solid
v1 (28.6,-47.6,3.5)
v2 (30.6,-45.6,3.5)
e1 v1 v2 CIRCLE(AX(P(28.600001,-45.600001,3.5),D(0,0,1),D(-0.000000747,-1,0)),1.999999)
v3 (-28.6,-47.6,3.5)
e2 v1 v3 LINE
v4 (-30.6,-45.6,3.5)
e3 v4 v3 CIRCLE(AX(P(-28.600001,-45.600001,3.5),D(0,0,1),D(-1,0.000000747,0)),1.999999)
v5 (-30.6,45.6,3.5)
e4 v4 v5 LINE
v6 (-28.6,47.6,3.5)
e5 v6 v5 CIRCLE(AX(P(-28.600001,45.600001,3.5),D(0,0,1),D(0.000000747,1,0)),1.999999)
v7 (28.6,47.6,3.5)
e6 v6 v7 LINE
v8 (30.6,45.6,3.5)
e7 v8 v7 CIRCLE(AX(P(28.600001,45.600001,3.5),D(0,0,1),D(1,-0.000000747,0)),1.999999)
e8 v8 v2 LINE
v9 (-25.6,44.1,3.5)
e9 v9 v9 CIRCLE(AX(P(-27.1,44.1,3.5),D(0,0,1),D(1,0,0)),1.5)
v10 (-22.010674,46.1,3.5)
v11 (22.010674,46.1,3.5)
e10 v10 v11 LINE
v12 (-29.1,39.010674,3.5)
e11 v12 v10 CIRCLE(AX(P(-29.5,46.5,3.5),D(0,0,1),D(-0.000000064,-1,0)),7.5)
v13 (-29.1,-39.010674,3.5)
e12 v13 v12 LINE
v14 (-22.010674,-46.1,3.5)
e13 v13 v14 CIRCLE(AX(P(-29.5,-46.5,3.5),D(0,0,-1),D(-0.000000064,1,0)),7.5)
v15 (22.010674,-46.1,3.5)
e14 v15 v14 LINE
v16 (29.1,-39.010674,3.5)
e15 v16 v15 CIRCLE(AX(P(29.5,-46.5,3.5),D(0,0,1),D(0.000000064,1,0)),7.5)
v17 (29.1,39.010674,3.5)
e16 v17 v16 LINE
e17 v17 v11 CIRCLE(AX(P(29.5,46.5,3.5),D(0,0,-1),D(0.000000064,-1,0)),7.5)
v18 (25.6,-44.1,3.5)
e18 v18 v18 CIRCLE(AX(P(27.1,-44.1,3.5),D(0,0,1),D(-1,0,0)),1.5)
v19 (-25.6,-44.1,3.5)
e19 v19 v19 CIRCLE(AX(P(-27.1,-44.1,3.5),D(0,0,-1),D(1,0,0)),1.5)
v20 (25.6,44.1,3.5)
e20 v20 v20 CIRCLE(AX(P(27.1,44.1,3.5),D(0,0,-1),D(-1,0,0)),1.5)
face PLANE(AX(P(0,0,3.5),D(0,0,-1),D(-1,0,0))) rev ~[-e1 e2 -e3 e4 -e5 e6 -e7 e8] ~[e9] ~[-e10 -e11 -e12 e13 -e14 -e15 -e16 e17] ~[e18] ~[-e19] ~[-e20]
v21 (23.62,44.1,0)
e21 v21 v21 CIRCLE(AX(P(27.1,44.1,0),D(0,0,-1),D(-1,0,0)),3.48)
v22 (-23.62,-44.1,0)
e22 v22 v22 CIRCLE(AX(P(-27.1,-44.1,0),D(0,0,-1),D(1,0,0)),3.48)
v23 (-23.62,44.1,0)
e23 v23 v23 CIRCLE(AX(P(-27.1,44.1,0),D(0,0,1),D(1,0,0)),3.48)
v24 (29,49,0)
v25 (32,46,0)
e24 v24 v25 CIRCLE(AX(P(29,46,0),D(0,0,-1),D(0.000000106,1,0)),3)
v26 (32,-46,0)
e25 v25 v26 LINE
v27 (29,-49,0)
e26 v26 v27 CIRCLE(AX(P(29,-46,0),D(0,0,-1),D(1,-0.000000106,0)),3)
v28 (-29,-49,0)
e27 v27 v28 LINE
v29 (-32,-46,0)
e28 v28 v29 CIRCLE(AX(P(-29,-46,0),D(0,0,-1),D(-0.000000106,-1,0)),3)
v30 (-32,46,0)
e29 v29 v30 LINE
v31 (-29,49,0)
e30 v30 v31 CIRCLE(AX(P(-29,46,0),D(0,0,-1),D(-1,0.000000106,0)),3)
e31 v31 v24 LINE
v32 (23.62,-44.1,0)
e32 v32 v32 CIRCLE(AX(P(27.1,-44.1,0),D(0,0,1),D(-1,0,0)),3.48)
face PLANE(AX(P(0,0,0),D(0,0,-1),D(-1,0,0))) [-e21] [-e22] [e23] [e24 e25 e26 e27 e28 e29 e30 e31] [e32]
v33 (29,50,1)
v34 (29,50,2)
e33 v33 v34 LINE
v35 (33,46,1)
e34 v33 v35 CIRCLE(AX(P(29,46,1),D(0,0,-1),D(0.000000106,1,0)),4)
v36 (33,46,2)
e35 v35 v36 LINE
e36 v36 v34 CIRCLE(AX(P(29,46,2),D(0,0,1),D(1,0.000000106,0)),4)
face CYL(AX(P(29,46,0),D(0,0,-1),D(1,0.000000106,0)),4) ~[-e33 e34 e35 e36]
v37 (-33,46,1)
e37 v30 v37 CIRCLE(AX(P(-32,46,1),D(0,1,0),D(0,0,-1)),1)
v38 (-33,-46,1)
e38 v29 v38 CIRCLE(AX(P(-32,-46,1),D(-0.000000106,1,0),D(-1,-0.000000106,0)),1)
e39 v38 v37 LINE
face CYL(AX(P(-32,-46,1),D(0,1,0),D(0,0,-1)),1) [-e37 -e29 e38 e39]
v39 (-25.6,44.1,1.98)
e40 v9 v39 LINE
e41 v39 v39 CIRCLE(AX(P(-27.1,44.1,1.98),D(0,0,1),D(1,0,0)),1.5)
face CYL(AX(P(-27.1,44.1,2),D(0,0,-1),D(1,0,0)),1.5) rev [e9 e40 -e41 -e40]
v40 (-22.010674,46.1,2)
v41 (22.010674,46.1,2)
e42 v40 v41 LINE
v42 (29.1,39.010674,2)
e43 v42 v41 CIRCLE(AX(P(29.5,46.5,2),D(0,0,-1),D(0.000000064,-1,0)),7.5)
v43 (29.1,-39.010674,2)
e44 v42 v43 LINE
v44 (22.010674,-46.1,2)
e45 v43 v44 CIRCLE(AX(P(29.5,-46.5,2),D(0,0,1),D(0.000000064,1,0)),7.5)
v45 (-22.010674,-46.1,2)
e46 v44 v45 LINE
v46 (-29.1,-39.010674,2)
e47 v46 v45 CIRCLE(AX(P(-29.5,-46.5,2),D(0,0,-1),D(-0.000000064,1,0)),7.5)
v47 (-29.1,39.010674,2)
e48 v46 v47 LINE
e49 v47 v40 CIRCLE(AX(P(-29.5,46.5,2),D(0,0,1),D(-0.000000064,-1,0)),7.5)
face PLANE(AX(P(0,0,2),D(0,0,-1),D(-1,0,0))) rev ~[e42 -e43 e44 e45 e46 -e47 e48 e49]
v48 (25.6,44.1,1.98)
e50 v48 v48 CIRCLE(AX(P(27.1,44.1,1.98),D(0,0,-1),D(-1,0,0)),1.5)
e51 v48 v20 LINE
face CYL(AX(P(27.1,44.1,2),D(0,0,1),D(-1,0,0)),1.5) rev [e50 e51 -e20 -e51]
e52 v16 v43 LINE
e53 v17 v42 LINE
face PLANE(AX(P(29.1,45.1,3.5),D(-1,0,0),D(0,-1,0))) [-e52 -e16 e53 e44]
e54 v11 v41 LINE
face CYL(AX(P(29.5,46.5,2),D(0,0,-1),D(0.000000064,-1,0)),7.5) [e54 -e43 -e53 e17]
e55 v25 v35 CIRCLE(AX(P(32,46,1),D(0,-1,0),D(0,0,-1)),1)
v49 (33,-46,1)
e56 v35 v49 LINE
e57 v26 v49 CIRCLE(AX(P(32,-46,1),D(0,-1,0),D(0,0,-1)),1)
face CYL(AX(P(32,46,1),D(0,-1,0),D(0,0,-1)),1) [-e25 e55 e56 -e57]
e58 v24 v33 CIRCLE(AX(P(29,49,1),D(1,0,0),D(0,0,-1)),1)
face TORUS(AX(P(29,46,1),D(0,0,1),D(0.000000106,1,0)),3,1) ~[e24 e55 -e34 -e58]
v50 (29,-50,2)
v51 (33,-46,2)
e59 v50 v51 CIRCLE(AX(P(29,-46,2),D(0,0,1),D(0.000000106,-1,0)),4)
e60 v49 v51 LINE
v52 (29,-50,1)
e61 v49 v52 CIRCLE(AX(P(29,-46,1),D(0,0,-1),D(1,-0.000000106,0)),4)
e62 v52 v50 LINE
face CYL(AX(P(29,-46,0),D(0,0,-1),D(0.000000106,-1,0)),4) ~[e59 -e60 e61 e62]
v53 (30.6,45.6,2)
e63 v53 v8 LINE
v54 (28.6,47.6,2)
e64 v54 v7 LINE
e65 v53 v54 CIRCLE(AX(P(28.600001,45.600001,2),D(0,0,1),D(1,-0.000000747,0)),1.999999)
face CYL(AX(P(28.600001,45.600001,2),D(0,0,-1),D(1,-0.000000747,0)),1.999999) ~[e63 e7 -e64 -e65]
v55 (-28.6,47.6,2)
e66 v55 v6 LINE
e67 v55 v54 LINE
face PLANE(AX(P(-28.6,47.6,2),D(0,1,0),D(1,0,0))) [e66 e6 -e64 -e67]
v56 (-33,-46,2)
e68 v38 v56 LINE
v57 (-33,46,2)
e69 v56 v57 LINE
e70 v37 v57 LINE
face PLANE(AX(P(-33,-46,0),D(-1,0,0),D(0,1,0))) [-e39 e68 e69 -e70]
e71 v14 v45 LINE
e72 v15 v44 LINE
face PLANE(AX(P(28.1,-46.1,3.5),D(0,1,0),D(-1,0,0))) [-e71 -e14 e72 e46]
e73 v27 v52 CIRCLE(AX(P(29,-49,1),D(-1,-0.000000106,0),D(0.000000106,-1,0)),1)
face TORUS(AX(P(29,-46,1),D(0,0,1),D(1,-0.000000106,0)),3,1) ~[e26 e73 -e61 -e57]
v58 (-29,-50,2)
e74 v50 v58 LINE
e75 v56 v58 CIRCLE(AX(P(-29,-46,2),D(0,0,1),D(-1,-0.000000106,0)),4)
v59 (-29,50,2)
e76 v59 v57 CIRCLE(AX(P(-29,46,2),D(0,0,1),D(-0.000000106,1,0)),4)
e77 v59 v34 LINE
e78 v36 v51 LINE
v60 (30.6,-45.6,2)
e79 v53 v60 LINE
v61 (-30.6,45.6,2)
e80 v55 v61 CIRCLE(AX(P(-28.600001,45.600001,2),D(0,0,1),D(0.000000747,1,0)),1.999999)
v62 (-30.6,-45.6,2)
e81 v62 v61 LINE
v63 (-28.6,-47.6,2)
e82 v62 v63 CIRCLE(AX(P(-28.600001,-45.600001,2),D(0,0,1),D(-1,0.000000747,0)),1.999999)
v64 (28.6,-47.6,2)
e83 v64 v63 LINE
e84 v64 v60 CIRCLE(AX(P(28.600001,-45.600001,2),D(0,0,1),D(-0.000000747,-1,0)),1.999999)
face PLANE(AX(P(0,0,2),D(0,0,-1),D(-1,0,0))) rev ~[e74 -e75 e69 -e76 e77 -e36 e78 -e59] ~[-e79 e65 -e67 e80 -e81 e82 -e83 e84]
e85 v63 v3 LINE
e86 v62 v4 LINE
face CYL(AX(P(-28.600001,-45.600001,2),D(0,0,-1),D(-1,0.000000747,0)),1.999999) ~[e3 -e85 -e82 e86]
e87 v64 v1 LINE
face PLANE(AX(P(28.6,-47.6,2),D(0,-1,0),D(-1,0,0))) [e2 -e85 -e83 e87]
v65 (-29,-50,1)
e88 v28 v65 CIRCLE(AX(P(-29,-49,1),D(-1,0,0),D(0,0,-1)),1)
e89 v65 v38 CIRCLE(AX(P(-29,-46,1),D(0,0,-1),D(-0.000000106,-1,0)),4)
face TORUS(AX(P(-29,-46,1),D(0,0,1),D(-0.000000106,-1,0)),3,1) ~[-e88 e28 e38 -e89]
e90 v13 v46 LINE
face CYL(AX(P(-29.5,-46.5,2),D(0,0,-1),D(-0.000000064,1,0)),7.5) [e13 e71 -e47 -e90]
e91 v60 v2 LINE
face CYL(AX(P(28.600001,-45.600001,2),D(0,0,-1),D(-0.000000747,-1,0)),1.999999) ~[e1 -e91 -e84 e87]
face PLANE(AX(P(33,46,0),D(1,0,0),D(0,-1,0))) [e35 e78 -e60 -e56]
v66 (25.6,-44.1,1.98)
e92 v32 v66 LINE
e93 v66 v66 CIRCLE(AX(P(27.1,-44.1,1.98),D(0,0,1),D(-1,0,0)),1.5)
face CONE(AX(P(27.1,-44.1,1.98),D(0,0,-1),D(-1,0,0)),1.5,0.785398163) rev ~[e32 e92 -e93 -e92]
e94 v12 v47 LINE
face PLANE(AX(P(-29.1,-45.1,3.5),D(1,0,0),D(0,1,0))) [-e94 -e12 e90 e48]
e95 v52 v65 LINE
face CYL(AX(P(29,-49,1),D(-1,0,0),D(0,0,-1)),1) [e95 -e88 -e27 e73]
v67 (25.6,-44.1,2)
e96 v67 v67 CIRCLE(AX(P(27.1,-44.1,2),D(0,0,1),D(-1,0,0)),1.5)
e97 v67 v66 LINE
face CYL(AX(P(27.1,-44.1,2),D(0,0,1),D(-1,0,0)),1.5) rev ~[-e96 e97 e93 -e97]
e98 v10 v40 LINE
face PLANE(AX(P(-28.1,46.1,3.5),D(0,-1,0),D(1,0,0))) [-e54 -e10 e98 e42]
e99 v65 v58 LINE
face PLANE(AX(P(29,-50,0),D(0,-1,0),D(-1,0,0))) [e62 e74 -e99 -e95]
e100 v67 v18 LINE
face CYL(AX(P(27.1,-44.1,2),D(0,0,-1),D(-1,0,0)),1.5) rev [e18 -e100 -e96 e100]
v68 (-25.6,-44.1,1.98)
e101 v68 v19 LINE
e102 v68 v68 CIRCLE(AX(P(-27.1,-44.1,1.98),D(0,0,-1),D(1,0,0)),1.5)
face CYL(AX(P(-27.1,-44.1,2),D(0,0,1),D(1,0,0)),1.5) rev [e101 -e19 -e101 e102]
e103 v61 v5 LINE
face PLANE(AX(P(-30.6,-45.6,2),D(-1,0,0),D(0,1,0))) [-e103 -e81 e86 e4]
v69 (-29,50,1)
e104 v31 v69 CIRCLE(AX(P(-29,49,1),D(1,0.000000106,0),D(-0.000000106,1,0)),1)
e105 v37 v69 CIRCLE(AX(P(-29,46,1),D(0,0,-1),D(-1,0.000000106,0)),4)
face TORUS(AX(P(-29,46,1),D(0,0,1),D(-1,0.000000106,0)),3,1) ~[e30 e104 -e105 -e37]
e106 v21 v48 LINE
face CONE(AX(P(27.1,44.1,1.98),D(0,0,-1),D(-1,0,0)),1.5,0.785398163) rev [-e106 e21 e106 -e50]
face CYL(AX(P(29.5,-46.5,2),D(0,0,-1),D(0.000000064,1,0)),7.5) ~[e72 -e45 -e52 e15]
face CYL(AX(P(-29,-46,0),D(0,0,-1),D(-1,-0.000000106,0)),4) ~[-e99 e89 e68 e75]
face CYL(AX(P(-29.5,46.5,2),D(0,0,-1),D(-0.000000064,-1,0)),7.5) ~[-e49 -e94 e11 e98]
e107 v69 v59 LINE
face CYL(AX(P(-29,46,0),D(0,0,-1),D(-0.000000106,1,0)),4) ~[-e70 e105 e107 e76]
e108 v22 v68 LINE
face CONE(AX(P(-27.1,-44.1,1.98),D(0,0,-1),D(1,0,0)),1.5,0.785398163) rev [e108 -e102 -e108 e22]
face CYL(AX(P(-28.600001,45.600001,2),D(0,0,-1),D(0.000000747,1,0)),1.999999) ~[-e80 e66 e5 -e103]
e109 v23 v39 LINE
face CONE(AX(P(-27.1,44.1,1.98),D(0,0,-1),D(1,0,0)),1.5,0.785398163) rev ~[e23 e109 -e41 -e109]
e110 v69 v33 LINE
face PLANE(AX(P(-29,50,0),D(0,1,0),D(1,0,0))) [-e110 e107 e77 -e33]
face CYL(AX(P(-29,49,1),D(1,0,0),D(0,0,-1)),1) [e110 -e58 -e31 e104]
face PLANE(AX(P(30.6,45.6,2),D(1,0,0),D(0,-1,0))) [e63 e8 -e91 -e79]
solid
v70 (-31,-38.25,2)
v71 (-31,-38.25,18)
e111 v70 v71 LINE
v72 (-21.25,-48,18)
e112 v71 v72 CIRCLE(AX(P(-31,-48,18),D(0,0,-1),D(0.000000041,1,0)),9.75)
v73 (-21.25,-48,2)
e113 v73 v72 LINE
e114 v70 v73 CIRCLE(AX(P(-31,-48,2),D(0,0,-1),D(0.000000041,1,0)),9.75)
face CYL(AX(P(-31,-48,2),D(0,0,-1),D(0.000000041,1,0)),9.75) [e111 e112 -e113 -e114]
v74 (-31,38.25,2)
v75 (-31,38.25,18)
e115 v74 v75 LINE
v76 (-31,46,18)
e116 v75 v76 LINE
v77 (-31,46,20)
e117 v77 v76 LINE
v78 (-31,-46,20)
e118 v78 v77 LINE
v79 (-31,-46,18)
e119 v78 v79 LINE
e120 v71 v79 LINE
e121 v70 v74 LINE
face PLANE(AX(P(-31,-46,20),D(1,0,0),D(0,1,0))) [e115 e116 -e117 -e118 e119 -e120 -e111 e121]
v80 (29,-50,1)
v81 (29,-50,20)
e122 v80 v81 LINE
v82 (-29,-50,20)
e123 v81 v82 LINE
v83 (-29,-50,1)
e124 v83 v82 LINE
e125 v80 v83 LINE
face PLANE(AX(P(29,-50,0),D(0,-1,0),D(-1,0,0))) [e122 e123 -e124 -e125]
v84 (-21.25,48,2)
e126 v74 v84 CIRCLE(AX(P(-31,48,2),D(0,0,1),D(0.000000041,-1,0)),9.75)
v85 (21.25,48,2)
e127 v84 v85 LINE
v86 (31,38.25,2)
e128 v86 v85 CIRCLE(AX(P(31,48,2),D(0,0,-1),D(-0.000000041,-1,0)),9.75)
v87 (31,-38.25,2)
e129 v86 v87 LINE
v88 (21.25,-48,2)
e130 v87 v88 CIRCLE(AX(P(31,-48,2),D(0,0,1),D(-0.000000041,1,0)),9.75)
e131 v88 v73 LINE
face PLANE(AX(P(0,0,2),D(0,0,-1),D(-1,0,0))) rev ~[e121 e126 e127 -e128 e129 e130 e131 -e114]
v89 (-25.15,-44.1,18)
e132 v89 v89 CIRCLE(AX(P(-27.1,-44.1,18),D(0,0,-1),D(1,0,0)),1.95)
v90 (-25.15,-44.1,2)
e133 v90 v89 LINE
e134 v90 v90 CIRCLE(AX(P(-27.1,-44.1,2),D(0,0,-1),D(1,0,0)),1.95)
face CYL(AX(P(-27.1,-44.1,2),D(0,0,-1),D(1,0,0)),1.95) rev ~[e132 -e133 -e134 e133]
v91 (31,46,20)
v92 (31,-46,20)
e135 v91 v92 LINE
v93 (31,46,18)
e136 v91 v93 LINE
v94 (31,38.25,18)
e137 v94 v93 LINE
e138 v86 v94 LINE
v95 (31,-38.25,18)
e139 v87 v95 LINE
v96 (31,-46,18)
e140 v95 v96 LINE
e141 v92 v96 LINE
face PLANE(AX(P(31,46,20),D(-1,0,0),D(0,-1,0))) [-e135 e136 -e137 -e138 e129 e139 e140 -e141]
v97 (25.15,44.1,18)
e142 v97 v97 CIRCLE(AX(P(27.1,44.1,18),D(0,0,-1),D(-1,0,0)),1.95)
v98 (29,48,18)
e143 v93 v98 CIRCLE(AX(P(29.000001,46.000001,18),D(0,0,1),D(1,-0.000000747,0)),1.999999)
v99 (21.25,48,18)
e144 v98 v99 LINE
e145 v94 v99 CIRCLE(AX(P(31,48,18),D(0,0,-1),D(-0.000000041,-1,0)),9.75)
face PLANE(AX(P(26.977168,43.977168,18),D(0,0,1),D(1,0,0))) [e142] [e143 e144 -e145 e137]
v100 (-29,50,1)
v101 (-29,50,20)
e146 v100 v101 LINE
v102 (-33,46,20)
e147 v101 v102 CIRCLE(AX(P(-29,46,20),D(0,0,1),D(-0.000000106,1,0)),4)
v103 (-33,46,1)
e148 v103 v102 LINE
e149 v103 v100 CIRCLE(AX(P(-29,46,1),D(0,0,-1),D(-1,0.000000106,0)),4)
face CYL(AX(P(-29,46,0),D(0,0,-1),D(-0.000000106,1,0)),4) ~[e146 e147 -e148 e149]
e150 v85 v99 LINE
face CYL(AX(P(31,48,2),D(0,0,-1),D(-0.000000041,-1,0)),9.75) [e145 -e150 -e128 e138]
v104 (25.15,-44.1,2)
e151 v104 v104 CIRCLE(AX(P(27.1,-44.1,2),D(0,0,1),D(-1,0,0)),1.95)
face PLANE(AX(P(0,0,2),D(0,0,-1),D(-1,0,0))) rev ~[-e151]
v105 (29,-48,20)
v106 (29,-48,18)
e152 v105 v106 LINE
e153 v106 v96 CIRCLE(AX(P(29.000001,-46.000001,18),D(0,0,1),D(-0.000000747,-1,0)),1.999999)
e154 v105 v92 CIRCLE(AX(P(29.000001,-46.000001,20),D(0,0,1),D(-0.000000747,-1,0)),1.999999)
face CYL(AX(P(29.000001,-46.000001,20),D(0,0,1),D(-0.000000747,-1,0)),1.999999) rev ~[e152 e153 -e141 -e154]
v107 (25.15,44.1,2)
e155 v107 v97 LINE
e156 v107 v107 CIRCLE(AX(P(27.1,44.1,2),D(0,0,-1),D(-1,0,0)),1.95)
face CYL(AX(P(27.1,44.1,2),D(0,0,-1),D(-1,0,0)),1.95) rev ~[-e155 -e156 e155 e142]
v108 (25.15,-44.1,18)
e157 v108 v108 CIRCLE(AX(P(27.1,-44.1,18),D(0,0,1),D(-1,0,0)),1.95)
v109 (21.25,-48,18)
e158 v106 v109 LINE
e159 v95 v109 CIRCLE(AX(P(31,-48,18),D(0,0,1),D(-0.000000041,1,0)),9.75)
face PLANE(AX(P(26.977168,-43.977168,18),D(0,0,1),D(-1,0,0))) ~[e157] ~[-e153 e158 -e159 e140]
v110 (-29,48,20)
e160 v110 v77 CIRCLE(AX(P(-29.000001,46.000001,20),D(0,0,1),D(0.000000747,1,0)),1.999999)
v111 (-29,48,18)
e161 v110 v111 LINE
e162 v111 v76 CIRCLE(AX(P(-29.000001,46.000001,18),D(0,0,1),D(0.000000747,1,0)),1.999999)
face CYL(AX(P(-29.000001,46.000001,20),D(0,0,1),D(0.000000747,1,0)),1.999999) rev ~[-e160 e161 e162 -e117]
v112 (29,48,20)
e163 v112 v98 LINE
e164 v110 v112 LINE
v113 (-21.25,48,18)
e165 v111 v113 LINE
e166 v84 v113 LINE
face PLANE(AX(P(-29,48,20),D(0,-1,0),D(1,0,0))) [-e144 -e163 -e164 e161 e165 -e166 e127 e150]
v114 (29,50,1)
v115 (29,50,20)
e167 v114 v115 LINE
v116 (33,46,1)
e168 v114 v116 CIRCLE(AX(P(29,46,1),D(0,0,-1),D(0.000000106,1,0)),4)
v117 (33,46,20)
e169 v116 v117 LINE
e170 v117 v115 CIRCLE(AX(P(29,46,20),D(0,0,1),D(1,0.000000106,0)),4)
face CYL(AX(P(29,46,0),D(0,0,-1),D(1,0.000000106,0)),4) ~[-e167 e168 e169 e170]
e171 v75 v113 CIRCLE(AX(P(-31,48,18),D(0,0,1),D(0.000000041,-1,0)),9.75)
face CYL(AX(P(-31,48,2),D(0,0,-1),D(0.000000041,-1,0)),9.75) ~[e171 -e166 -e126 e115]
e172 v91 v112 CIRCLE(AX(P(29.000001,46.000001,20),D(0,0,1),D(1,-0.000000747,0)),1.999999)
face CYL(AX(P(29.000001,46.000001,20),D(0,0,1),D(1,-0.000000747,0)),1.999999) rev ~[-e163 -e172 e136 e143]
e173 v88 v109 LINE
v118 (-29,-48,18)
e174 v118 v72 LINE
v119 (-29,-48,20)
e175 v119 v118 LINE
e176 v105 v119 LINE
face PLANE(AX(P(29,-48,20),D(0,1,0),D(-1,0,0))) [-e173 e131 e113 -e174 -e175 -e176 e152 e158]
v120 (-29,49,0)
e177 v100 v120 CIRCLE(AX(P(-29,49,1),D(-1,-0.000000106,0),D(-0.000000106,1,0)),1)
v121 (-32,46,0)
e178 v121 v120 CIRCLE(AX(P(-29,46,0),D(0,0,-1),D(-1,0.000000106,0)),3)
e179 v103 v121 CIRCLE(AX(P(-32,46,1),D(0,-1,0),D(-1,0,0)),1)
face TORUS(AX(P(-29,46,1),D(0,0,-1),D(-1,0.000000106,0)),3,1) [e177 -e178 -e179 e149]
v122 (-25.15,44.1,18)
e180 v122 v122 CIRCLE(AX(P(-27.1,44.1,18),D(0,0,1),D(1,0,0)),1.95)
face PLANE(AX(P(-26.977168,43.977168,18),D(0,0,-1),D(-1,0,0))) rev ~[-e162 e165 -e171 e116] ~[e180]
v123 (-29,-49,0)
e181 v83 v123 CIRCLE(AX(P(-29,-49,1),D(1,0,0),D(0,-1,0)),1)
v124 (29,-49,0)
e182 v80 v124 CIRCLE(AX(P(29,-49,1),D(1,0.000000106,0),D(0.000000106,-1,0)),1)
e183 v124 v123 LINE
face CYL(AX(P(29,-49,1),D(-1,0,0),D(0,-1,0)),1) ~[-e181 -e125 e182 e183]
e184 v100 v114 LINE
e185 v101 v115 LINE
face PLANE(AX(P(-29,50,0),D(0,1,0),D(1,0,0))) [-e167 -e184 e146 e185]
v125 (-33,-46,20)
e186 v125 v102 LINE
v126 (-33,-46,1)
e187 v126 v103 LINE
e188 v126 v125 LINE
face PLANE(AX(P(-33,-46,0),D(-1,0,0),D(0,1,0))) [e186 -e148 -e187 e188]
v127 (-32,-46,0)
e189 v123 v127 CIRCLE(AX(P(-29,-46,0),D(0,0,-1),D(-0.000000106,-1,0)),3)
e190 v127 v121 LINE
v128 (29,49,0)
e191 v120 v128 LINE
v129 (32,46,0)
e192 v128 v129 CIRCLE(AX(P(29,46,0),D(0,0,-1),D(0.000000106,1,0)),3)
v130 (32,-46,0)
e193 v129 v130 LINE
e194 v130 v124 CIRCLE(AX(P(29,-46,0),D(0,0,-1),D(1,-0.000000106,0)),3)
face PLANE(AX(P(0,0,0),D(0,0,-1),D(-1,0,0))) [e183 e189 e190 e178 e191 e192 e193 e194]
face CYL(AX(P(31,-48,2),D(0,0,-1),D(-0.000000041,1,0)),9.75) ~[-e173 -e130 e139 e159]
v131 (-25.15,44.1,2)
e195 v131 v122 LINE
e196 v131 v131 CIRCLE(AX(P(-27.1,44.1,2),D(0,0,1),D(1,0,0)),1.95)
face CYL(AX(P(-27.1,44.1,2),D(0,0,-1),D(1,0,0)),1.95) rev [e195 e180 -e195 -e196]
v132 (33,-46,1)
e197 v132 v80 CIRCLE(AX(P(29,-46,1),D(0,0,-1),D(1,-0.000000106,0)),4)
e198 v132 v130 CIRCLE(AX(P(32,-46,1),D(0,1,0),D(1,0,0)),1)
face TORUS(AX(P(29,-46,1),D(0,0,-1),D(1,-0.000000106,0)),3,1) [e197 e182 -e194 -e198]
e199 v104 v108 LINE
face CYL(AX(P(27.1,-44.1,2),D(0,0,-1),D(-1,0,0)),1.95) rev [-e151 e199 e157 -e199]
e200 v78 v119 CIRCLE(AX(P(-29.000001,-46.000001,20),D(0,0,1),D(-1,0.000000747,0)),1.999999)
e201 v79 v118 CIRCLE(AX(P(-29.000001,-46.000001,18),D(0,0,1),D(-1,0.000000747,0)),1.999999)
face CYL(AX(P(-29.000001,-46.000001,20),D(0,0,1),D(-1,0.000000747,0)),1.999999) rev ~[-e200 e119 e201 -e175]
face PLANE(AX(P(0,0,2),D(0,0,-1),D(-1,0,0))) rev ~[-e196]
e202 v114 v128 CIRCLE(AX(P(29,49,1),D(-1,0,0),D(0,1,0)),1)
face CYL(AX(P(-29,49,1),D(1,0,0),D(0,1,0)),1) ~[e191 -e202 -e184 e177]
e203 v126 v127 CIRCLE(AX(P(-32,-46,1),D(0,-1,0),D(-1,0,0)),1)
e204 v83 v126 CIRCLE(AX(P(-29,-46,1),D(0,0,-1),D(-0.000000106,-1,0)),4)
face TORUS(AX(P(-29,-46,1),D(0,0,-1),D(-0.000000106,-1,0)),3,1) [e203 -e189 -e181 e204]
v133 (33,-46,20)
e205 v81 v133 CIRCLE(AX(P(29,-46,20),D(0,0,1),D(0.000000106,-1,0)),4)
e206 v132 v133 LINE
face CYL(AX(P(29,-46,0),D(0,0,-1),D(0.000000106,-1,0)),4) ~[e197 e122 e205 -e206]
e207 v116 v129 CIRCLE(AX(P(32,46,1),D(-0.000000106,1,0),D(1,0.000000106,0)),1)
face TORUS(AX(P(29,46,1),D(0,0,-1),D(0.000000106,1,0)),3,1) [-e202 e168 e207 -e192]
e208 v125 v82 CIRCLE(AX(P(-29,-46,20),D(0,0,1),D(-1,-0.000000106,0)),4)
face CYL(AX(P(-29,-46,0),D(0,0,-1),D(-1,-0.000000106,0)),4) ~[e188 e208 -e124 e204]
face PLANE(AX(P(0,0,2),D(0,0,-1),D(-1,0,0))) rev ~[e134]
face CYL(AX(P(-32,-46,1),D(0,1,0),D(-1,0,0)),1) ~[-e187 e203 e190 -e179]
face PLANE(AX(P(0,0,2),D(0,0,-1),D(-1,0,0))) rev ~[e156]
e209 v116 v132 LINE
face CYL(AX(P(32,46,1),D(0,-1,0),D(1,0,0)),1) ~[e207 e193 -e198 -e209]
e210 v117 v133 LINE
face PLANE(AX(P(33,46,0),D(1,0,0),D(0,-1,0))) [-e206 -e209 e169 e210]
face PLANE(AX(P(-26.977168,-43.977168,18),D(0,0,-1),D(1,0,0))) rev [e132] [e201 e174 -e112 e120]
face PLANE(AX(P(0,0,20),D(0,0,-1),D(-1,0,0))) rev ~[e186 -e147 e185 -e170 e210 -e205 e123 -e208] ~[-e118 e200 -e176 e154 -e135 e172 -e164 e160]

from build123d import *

# Parameters (mm, degrees)
PAD_DEPTH                     = 20
POCKET_DEPTH                  = 18
SKETCH002_R                   = 1.95
PAD001_DEPTH                  = 16
SKETCH002_MIRRORED_2_R        = 1.95
PAD001_MIRRORED_2_DEPTH       = 16
FILLET_R                      = 1
PAD002_DEPTH                  = 2
PAD003_DEPTH                  = 1.5
POCKET001_DEPTH               = 1.5
SKETCH006_R                   = 1.5
PAD004_DEPTH                  = 1.5
SKETCH006_MIRRORED002_2_R     = 1.5
PAD004_MIRRORED002_2_DEPTH    = 1.5
SKETCH007_R                   = 1.5
POCKET002_DEPTH               = 2
SKETCH007_MIRRORED004_2_R     = 1.5
POCKET002_MIRRORED004_2_DEPTH = 2
FILLET001_R                   = 1
CHAMFER_SIZE                  = 1.98


with BuildPart() as main_box:
    # Sketch → Pad (new body)
    with BuildSketch(Plane.XY):
        with BuildLine():
            Line((-29, 50), (29, 50))
            ThreePointArc((33, 46), (31.828427, 48.828427), (29, 50))
            Line((33, 46), (33, -46))
            ThreePointArc((29, -50), (31.828427, -48.828427), (33, -46))
            Line((29, -50), (-29, -50))
            ThreePointArc((-33, -46), (-31.828427, -48.828427), (-29, -50))
            Line((-33, -46), (-33, 46))
            ThreePointArc((-29, 50), (-31.828427, 48.828427), (-33, 46))
        make_face()
    extrude(amount=PAD_DEPTH)

    # Sketch001 (on Face10 of Pad) → Pocket (cut)
    with BuildSketch(Plane.XY.offset(20)):
        with BuildLine():
            Line((-29, 48), (29, 48))
            ThreePointArc((31, 46), (30.414214, 47.414214), (29, 48))
            Line((31, 46), (31, -46))
            ThreePointArc((29, -48), (30.414214, -47.414214), (31, -46))
            Line((29, -48), (-29, -48))
            ThreePointArc((-31, -46), (-30.414214, -47.414214), (-29, -48))
            Line((-31, -46), (-31, 46))
            ThreePointArc((-29, 48), (-30.414214, 47.414214), (-31, 46))
        make_face()
    extrude(amount=-POCKET_DEPTH, mode=Mode.SUBTRACT)

    # Sketch002 (on Face19 of Pocket) → Pad001 (join)
    with BuildSketch(Plane.XY.offset(2)):
        with BuildLine():
            Line((-31, 38.25), (-31, 48))
            Line((-31, 48), (-21.25, 48))
            ThreePointArc((-31, 38.25), (-24.105709, 41.105709), (-21.25, 48))
        make_face()
        with Locations((-27.1, 44.1)):
            Circle(SKETCH002_R, mode=Mode.SUBTRACT)
    pad001 = extrude(amount=PAD001_DEPTH)

    # Sketch002 Mirrored 2 → Pad001 Mirrored 2 (add)
    with BuildSketch(Plane(origin=(0, 0, 2), x_dir=(-1, 0, 0), z_dir=(0, 0, -1))):
        with BuildLine():
            Line((-31, 38.25), (-31, 48))
            Line((-31, 48), (-21.25, 48))
            ThreePointArc((-31, 38.25), (-24.105709, 41.105709), (-21.25, 48))
        make_face()
        with Locations((-27.1, 44.1)):
            Circle(SKETCH002_MIRRORED_2_R, mode=Mode.SUBTRACT)
    pad001_mirrored_2 = extrude(amount=-PAD001_MIRRORED_2_DEPTH)

    # Mirrored001: Pad001, Pad001 Mirrored 2 across Sketch002 H_Axis
    add(pad001.mirror(Plane(origin=(0, 0, 2), x_dir=(0, 0, 1), z_dir=(0, 1, 0))))
    add(pad001_mirrored_2.mirror(Plane(origin=(0, 0, 2), x_dir=(0, 0, 1), z_dir=(0, 1, 0))))

    # Fillet
    fillet_edges = [main_box.edges().sort_by_distance(p)[0] for p in [
        (-33, 0, 0),
        (-31.828427, 48.828427, 0),
        (0, 50, 0),
        (31.828427, 48.828427, 0),
        (33, 0, 0),
        (31.828427, -48.828427, 0),
        (0, -50, 0),
        (-31.828427, -48.828427, 0),
    ]]
    fillet(fillet_edges, radius=FILLET_R)


with BuildPart() as main_lid:
    # Sketch003 → Pad002 (new body)
    with BuildSketch(Plane.XY):
        with BuildLine():
            Line((-29, 50), (29, 50))
            ThreePointArc((33, 46), (31.828427, 48.828427), (29, 50))
            Line((33, 46), (33, -46))
            ThreePointArc((29, -50), (31.828427, -48.828427), (33, -46))
            Line((29, -50), (-29, -50))
            ThreePointArc((-33, -46), (-31.828427, -48.828427), (-29, -50))
            Line((-33, -46), (-33, 46))
            ThreePointArc((-29, 50), (-31.828427, 48.828427), (-33, 46))
        make_face()
    extrude(amount=PAD002_DEPTH)

    # Sketch004 (on Face10 of Pad002) → Pad003 (join)
    with BuildSketch(Plane.XY.offset(2)):
        with BuildLine():
            Line((-28.6, 47.6), (28.6, 47.6))
            ThreePointArc((30.6, 45.6), (30.014214, 47.014214), (28.6, 47.6))
            Line((30.6, 45.6), (30.6, -45.6))
            ThreePointArc((28.6, -47.6), (30.014214, -47.014214), (30.6, -45.6))
            Line((28.6, -47.6), (-28.6, -47.6))
            ThreePointArc((-30.6, -45.6), (-30.014214, -47.014214), (-28.6, -47.6))
            Line((-30.6, -45.6), (-30.6, 45.6))
            ThreePointArc((-28.6, 47.6), (-30.014214, 47.014214), (-30.6, 45.6))
        make_face()
    extrude(amount=PAD003_DEPTH)

    # Sketch005 (on Face19 of Pad003) → Pocket001 (cut)
    with BuildSketch(Plane.XY.offset(3.5)):
        with BuildLine():
            Line((-28.1, 46.1), (28.1, 46.1))
            ThreePointArc((29.1, 45.1), (28.807107, 45.807107), (28.1, 46.1))
            Line((29.1, 45.1), (29.1, -45.1))
            ThreePointArc((28.1, -46.1), (28.807107, -45.807107), (29.1, -45.1))
            Line((28.1, -46.1), (-28.1, -46.1))
            ThreePointArc((-29.1, -45.1), (-28.807107, -45.807107), (-28.1, -46.1))
            Line((-29.1, -45.1), (-29.1, 45.1))
            ThreePointArc((-28.1, 46.1), (-28.807107, 45.807107), (-29.1, 45.1))
        make_face()
    extrude(amount=-POCKET001_DEPTH, mode=Mode.SUBTRACT)

    # Sketch006 (on Face28 of Pocket001) → Pad004 (join)
    with BuildSketch(Plane.XY.offset(2)):
        with BuildLine():
            Line((-29.5, 39), (-29.5, 46.5))
            Line((-29.5, 46.5), (-22, 46.5))
            ThreePointArc((-29.5, 39), (-24.196699, 41.196699), (-22, 46.5))
        make_face()
        with Locations((-27.1, 44.1)):
            Circle(SKETCH006_R, mode=Mode.SUBTRACT)
    pad004 = extrude(amount=PAD004_DEPTH)

    # Sketch006 Mirrored002 2 → Pad004 Mirrored002 2 (add)
    with BuildSketch(Plane(origin=(0, 0, 2), x_dir=(-1, 0, 0), z_dir=(0, 0, -1))):
        with BuildLine():
            Line((-29.5, 39), (-29.5, 46.5))
            Line((-29.5, 46.5), (-22, 46.5))
            ThreePointArc((-29.5, 39), (-24.196699, 41.196699), (-22, 46.5))
        make_face()
        with Locations((-27.1, 44.1)):
            Circle(SKETCH006_MIRRORED002_2_R, mode=Mode.SUBTRACT)
    pad004_mirrored002_2 = extrude(amount=-PAD004_MIRRORED002_2_DEPTH)

    # Mirrored003: Pad004, Pad004 Mirrored002 2 across Sketch006 H_Axis
    add(pad004.mirror(Plane(origin=(0, 0, 2), x_dir=(0, 0, 1), z_dir=(0, 1, 0))))
    add(pad004_mirrored002_2.mirror(Plane(origin=(0, 0, 2), x_dir=(0, 0, 1), z_dir=(0, 1, 0))))

    # Sketch007 (on Face30 of MultiTransform001) → Pocket002 (cut)
    with BuildSketch(Plane.XY.offset(2)):
        with Locations((-27.1, 44.1)):
            Circle(SKETCH007_R)
    pocket002 = extrude(amount=-POCKET002_DEPTH, mode=Mode.SUBTRACT)

    # Sketch007 Mirrored004 2 → Pocket002 Mirrored004 2 (cut)
    with BuildSketch(Plane(origin=(0, 0, 2), x_dir=(-1, 0, 0), z_dir=(0, 0, -1))):
        with Locations((-27.1, 44.1)):
            Circle(SKETCH007_MIRRORED004_2_R)
    pocket002_mirrored004_2 = extrude(amount=POCKET002_MIRRORED004_2_DEPTH, mode=Mode.SUBTRACT)

    # Mirrored005: Pocket002, Pocket002 Mirrored004 2 across Sketch007 H_Axis
    add(pocket002.mirror(Plane(origin=(0, 0, 2), x_dir=(0, 0, 1), z_dir=(0, 1, 0))), mode=Mode.SUBTRACT)
    add(pocket002_mirrored004_2.mirror(Plane(origin=(0, 0, 2), x_dir=(0, 0, 1), z_dir=(0, 1, 0))), mode=Mode.SUBTRACT)

    # Fillet001
    fillet001_edges = [main_lid.edges().sort_by_distance(p)[0] for p in [
        (33, 0, 0),
        (31.828427, 48.828427, 0),
        (0, 50, 0),
        (-31.828427, 48.828427, 0),
        (-33, 0, 0),
        (-31.828427, -48.828427, 0),
        (0, -50, 0),
        (31.828427, -48.828427, 0),
    ]]
    fillet(fillet001_edges, radius=FILLET001_R)

    # Chamfer
    chamfer_edges = [main_lid.edges().sort_by_distance(p)[0] for p in [
        (28.6, 44.1, 0),
        (-28.6, 44.1, 0),
        (-28.6, -44.1, 0),
        (28.6, -44.1, 0),
    ]]
    chamfer(chamfer_edges, length=CHAMFER_SIZE)


solid = Compound([main_box.part, main_lid.part])
